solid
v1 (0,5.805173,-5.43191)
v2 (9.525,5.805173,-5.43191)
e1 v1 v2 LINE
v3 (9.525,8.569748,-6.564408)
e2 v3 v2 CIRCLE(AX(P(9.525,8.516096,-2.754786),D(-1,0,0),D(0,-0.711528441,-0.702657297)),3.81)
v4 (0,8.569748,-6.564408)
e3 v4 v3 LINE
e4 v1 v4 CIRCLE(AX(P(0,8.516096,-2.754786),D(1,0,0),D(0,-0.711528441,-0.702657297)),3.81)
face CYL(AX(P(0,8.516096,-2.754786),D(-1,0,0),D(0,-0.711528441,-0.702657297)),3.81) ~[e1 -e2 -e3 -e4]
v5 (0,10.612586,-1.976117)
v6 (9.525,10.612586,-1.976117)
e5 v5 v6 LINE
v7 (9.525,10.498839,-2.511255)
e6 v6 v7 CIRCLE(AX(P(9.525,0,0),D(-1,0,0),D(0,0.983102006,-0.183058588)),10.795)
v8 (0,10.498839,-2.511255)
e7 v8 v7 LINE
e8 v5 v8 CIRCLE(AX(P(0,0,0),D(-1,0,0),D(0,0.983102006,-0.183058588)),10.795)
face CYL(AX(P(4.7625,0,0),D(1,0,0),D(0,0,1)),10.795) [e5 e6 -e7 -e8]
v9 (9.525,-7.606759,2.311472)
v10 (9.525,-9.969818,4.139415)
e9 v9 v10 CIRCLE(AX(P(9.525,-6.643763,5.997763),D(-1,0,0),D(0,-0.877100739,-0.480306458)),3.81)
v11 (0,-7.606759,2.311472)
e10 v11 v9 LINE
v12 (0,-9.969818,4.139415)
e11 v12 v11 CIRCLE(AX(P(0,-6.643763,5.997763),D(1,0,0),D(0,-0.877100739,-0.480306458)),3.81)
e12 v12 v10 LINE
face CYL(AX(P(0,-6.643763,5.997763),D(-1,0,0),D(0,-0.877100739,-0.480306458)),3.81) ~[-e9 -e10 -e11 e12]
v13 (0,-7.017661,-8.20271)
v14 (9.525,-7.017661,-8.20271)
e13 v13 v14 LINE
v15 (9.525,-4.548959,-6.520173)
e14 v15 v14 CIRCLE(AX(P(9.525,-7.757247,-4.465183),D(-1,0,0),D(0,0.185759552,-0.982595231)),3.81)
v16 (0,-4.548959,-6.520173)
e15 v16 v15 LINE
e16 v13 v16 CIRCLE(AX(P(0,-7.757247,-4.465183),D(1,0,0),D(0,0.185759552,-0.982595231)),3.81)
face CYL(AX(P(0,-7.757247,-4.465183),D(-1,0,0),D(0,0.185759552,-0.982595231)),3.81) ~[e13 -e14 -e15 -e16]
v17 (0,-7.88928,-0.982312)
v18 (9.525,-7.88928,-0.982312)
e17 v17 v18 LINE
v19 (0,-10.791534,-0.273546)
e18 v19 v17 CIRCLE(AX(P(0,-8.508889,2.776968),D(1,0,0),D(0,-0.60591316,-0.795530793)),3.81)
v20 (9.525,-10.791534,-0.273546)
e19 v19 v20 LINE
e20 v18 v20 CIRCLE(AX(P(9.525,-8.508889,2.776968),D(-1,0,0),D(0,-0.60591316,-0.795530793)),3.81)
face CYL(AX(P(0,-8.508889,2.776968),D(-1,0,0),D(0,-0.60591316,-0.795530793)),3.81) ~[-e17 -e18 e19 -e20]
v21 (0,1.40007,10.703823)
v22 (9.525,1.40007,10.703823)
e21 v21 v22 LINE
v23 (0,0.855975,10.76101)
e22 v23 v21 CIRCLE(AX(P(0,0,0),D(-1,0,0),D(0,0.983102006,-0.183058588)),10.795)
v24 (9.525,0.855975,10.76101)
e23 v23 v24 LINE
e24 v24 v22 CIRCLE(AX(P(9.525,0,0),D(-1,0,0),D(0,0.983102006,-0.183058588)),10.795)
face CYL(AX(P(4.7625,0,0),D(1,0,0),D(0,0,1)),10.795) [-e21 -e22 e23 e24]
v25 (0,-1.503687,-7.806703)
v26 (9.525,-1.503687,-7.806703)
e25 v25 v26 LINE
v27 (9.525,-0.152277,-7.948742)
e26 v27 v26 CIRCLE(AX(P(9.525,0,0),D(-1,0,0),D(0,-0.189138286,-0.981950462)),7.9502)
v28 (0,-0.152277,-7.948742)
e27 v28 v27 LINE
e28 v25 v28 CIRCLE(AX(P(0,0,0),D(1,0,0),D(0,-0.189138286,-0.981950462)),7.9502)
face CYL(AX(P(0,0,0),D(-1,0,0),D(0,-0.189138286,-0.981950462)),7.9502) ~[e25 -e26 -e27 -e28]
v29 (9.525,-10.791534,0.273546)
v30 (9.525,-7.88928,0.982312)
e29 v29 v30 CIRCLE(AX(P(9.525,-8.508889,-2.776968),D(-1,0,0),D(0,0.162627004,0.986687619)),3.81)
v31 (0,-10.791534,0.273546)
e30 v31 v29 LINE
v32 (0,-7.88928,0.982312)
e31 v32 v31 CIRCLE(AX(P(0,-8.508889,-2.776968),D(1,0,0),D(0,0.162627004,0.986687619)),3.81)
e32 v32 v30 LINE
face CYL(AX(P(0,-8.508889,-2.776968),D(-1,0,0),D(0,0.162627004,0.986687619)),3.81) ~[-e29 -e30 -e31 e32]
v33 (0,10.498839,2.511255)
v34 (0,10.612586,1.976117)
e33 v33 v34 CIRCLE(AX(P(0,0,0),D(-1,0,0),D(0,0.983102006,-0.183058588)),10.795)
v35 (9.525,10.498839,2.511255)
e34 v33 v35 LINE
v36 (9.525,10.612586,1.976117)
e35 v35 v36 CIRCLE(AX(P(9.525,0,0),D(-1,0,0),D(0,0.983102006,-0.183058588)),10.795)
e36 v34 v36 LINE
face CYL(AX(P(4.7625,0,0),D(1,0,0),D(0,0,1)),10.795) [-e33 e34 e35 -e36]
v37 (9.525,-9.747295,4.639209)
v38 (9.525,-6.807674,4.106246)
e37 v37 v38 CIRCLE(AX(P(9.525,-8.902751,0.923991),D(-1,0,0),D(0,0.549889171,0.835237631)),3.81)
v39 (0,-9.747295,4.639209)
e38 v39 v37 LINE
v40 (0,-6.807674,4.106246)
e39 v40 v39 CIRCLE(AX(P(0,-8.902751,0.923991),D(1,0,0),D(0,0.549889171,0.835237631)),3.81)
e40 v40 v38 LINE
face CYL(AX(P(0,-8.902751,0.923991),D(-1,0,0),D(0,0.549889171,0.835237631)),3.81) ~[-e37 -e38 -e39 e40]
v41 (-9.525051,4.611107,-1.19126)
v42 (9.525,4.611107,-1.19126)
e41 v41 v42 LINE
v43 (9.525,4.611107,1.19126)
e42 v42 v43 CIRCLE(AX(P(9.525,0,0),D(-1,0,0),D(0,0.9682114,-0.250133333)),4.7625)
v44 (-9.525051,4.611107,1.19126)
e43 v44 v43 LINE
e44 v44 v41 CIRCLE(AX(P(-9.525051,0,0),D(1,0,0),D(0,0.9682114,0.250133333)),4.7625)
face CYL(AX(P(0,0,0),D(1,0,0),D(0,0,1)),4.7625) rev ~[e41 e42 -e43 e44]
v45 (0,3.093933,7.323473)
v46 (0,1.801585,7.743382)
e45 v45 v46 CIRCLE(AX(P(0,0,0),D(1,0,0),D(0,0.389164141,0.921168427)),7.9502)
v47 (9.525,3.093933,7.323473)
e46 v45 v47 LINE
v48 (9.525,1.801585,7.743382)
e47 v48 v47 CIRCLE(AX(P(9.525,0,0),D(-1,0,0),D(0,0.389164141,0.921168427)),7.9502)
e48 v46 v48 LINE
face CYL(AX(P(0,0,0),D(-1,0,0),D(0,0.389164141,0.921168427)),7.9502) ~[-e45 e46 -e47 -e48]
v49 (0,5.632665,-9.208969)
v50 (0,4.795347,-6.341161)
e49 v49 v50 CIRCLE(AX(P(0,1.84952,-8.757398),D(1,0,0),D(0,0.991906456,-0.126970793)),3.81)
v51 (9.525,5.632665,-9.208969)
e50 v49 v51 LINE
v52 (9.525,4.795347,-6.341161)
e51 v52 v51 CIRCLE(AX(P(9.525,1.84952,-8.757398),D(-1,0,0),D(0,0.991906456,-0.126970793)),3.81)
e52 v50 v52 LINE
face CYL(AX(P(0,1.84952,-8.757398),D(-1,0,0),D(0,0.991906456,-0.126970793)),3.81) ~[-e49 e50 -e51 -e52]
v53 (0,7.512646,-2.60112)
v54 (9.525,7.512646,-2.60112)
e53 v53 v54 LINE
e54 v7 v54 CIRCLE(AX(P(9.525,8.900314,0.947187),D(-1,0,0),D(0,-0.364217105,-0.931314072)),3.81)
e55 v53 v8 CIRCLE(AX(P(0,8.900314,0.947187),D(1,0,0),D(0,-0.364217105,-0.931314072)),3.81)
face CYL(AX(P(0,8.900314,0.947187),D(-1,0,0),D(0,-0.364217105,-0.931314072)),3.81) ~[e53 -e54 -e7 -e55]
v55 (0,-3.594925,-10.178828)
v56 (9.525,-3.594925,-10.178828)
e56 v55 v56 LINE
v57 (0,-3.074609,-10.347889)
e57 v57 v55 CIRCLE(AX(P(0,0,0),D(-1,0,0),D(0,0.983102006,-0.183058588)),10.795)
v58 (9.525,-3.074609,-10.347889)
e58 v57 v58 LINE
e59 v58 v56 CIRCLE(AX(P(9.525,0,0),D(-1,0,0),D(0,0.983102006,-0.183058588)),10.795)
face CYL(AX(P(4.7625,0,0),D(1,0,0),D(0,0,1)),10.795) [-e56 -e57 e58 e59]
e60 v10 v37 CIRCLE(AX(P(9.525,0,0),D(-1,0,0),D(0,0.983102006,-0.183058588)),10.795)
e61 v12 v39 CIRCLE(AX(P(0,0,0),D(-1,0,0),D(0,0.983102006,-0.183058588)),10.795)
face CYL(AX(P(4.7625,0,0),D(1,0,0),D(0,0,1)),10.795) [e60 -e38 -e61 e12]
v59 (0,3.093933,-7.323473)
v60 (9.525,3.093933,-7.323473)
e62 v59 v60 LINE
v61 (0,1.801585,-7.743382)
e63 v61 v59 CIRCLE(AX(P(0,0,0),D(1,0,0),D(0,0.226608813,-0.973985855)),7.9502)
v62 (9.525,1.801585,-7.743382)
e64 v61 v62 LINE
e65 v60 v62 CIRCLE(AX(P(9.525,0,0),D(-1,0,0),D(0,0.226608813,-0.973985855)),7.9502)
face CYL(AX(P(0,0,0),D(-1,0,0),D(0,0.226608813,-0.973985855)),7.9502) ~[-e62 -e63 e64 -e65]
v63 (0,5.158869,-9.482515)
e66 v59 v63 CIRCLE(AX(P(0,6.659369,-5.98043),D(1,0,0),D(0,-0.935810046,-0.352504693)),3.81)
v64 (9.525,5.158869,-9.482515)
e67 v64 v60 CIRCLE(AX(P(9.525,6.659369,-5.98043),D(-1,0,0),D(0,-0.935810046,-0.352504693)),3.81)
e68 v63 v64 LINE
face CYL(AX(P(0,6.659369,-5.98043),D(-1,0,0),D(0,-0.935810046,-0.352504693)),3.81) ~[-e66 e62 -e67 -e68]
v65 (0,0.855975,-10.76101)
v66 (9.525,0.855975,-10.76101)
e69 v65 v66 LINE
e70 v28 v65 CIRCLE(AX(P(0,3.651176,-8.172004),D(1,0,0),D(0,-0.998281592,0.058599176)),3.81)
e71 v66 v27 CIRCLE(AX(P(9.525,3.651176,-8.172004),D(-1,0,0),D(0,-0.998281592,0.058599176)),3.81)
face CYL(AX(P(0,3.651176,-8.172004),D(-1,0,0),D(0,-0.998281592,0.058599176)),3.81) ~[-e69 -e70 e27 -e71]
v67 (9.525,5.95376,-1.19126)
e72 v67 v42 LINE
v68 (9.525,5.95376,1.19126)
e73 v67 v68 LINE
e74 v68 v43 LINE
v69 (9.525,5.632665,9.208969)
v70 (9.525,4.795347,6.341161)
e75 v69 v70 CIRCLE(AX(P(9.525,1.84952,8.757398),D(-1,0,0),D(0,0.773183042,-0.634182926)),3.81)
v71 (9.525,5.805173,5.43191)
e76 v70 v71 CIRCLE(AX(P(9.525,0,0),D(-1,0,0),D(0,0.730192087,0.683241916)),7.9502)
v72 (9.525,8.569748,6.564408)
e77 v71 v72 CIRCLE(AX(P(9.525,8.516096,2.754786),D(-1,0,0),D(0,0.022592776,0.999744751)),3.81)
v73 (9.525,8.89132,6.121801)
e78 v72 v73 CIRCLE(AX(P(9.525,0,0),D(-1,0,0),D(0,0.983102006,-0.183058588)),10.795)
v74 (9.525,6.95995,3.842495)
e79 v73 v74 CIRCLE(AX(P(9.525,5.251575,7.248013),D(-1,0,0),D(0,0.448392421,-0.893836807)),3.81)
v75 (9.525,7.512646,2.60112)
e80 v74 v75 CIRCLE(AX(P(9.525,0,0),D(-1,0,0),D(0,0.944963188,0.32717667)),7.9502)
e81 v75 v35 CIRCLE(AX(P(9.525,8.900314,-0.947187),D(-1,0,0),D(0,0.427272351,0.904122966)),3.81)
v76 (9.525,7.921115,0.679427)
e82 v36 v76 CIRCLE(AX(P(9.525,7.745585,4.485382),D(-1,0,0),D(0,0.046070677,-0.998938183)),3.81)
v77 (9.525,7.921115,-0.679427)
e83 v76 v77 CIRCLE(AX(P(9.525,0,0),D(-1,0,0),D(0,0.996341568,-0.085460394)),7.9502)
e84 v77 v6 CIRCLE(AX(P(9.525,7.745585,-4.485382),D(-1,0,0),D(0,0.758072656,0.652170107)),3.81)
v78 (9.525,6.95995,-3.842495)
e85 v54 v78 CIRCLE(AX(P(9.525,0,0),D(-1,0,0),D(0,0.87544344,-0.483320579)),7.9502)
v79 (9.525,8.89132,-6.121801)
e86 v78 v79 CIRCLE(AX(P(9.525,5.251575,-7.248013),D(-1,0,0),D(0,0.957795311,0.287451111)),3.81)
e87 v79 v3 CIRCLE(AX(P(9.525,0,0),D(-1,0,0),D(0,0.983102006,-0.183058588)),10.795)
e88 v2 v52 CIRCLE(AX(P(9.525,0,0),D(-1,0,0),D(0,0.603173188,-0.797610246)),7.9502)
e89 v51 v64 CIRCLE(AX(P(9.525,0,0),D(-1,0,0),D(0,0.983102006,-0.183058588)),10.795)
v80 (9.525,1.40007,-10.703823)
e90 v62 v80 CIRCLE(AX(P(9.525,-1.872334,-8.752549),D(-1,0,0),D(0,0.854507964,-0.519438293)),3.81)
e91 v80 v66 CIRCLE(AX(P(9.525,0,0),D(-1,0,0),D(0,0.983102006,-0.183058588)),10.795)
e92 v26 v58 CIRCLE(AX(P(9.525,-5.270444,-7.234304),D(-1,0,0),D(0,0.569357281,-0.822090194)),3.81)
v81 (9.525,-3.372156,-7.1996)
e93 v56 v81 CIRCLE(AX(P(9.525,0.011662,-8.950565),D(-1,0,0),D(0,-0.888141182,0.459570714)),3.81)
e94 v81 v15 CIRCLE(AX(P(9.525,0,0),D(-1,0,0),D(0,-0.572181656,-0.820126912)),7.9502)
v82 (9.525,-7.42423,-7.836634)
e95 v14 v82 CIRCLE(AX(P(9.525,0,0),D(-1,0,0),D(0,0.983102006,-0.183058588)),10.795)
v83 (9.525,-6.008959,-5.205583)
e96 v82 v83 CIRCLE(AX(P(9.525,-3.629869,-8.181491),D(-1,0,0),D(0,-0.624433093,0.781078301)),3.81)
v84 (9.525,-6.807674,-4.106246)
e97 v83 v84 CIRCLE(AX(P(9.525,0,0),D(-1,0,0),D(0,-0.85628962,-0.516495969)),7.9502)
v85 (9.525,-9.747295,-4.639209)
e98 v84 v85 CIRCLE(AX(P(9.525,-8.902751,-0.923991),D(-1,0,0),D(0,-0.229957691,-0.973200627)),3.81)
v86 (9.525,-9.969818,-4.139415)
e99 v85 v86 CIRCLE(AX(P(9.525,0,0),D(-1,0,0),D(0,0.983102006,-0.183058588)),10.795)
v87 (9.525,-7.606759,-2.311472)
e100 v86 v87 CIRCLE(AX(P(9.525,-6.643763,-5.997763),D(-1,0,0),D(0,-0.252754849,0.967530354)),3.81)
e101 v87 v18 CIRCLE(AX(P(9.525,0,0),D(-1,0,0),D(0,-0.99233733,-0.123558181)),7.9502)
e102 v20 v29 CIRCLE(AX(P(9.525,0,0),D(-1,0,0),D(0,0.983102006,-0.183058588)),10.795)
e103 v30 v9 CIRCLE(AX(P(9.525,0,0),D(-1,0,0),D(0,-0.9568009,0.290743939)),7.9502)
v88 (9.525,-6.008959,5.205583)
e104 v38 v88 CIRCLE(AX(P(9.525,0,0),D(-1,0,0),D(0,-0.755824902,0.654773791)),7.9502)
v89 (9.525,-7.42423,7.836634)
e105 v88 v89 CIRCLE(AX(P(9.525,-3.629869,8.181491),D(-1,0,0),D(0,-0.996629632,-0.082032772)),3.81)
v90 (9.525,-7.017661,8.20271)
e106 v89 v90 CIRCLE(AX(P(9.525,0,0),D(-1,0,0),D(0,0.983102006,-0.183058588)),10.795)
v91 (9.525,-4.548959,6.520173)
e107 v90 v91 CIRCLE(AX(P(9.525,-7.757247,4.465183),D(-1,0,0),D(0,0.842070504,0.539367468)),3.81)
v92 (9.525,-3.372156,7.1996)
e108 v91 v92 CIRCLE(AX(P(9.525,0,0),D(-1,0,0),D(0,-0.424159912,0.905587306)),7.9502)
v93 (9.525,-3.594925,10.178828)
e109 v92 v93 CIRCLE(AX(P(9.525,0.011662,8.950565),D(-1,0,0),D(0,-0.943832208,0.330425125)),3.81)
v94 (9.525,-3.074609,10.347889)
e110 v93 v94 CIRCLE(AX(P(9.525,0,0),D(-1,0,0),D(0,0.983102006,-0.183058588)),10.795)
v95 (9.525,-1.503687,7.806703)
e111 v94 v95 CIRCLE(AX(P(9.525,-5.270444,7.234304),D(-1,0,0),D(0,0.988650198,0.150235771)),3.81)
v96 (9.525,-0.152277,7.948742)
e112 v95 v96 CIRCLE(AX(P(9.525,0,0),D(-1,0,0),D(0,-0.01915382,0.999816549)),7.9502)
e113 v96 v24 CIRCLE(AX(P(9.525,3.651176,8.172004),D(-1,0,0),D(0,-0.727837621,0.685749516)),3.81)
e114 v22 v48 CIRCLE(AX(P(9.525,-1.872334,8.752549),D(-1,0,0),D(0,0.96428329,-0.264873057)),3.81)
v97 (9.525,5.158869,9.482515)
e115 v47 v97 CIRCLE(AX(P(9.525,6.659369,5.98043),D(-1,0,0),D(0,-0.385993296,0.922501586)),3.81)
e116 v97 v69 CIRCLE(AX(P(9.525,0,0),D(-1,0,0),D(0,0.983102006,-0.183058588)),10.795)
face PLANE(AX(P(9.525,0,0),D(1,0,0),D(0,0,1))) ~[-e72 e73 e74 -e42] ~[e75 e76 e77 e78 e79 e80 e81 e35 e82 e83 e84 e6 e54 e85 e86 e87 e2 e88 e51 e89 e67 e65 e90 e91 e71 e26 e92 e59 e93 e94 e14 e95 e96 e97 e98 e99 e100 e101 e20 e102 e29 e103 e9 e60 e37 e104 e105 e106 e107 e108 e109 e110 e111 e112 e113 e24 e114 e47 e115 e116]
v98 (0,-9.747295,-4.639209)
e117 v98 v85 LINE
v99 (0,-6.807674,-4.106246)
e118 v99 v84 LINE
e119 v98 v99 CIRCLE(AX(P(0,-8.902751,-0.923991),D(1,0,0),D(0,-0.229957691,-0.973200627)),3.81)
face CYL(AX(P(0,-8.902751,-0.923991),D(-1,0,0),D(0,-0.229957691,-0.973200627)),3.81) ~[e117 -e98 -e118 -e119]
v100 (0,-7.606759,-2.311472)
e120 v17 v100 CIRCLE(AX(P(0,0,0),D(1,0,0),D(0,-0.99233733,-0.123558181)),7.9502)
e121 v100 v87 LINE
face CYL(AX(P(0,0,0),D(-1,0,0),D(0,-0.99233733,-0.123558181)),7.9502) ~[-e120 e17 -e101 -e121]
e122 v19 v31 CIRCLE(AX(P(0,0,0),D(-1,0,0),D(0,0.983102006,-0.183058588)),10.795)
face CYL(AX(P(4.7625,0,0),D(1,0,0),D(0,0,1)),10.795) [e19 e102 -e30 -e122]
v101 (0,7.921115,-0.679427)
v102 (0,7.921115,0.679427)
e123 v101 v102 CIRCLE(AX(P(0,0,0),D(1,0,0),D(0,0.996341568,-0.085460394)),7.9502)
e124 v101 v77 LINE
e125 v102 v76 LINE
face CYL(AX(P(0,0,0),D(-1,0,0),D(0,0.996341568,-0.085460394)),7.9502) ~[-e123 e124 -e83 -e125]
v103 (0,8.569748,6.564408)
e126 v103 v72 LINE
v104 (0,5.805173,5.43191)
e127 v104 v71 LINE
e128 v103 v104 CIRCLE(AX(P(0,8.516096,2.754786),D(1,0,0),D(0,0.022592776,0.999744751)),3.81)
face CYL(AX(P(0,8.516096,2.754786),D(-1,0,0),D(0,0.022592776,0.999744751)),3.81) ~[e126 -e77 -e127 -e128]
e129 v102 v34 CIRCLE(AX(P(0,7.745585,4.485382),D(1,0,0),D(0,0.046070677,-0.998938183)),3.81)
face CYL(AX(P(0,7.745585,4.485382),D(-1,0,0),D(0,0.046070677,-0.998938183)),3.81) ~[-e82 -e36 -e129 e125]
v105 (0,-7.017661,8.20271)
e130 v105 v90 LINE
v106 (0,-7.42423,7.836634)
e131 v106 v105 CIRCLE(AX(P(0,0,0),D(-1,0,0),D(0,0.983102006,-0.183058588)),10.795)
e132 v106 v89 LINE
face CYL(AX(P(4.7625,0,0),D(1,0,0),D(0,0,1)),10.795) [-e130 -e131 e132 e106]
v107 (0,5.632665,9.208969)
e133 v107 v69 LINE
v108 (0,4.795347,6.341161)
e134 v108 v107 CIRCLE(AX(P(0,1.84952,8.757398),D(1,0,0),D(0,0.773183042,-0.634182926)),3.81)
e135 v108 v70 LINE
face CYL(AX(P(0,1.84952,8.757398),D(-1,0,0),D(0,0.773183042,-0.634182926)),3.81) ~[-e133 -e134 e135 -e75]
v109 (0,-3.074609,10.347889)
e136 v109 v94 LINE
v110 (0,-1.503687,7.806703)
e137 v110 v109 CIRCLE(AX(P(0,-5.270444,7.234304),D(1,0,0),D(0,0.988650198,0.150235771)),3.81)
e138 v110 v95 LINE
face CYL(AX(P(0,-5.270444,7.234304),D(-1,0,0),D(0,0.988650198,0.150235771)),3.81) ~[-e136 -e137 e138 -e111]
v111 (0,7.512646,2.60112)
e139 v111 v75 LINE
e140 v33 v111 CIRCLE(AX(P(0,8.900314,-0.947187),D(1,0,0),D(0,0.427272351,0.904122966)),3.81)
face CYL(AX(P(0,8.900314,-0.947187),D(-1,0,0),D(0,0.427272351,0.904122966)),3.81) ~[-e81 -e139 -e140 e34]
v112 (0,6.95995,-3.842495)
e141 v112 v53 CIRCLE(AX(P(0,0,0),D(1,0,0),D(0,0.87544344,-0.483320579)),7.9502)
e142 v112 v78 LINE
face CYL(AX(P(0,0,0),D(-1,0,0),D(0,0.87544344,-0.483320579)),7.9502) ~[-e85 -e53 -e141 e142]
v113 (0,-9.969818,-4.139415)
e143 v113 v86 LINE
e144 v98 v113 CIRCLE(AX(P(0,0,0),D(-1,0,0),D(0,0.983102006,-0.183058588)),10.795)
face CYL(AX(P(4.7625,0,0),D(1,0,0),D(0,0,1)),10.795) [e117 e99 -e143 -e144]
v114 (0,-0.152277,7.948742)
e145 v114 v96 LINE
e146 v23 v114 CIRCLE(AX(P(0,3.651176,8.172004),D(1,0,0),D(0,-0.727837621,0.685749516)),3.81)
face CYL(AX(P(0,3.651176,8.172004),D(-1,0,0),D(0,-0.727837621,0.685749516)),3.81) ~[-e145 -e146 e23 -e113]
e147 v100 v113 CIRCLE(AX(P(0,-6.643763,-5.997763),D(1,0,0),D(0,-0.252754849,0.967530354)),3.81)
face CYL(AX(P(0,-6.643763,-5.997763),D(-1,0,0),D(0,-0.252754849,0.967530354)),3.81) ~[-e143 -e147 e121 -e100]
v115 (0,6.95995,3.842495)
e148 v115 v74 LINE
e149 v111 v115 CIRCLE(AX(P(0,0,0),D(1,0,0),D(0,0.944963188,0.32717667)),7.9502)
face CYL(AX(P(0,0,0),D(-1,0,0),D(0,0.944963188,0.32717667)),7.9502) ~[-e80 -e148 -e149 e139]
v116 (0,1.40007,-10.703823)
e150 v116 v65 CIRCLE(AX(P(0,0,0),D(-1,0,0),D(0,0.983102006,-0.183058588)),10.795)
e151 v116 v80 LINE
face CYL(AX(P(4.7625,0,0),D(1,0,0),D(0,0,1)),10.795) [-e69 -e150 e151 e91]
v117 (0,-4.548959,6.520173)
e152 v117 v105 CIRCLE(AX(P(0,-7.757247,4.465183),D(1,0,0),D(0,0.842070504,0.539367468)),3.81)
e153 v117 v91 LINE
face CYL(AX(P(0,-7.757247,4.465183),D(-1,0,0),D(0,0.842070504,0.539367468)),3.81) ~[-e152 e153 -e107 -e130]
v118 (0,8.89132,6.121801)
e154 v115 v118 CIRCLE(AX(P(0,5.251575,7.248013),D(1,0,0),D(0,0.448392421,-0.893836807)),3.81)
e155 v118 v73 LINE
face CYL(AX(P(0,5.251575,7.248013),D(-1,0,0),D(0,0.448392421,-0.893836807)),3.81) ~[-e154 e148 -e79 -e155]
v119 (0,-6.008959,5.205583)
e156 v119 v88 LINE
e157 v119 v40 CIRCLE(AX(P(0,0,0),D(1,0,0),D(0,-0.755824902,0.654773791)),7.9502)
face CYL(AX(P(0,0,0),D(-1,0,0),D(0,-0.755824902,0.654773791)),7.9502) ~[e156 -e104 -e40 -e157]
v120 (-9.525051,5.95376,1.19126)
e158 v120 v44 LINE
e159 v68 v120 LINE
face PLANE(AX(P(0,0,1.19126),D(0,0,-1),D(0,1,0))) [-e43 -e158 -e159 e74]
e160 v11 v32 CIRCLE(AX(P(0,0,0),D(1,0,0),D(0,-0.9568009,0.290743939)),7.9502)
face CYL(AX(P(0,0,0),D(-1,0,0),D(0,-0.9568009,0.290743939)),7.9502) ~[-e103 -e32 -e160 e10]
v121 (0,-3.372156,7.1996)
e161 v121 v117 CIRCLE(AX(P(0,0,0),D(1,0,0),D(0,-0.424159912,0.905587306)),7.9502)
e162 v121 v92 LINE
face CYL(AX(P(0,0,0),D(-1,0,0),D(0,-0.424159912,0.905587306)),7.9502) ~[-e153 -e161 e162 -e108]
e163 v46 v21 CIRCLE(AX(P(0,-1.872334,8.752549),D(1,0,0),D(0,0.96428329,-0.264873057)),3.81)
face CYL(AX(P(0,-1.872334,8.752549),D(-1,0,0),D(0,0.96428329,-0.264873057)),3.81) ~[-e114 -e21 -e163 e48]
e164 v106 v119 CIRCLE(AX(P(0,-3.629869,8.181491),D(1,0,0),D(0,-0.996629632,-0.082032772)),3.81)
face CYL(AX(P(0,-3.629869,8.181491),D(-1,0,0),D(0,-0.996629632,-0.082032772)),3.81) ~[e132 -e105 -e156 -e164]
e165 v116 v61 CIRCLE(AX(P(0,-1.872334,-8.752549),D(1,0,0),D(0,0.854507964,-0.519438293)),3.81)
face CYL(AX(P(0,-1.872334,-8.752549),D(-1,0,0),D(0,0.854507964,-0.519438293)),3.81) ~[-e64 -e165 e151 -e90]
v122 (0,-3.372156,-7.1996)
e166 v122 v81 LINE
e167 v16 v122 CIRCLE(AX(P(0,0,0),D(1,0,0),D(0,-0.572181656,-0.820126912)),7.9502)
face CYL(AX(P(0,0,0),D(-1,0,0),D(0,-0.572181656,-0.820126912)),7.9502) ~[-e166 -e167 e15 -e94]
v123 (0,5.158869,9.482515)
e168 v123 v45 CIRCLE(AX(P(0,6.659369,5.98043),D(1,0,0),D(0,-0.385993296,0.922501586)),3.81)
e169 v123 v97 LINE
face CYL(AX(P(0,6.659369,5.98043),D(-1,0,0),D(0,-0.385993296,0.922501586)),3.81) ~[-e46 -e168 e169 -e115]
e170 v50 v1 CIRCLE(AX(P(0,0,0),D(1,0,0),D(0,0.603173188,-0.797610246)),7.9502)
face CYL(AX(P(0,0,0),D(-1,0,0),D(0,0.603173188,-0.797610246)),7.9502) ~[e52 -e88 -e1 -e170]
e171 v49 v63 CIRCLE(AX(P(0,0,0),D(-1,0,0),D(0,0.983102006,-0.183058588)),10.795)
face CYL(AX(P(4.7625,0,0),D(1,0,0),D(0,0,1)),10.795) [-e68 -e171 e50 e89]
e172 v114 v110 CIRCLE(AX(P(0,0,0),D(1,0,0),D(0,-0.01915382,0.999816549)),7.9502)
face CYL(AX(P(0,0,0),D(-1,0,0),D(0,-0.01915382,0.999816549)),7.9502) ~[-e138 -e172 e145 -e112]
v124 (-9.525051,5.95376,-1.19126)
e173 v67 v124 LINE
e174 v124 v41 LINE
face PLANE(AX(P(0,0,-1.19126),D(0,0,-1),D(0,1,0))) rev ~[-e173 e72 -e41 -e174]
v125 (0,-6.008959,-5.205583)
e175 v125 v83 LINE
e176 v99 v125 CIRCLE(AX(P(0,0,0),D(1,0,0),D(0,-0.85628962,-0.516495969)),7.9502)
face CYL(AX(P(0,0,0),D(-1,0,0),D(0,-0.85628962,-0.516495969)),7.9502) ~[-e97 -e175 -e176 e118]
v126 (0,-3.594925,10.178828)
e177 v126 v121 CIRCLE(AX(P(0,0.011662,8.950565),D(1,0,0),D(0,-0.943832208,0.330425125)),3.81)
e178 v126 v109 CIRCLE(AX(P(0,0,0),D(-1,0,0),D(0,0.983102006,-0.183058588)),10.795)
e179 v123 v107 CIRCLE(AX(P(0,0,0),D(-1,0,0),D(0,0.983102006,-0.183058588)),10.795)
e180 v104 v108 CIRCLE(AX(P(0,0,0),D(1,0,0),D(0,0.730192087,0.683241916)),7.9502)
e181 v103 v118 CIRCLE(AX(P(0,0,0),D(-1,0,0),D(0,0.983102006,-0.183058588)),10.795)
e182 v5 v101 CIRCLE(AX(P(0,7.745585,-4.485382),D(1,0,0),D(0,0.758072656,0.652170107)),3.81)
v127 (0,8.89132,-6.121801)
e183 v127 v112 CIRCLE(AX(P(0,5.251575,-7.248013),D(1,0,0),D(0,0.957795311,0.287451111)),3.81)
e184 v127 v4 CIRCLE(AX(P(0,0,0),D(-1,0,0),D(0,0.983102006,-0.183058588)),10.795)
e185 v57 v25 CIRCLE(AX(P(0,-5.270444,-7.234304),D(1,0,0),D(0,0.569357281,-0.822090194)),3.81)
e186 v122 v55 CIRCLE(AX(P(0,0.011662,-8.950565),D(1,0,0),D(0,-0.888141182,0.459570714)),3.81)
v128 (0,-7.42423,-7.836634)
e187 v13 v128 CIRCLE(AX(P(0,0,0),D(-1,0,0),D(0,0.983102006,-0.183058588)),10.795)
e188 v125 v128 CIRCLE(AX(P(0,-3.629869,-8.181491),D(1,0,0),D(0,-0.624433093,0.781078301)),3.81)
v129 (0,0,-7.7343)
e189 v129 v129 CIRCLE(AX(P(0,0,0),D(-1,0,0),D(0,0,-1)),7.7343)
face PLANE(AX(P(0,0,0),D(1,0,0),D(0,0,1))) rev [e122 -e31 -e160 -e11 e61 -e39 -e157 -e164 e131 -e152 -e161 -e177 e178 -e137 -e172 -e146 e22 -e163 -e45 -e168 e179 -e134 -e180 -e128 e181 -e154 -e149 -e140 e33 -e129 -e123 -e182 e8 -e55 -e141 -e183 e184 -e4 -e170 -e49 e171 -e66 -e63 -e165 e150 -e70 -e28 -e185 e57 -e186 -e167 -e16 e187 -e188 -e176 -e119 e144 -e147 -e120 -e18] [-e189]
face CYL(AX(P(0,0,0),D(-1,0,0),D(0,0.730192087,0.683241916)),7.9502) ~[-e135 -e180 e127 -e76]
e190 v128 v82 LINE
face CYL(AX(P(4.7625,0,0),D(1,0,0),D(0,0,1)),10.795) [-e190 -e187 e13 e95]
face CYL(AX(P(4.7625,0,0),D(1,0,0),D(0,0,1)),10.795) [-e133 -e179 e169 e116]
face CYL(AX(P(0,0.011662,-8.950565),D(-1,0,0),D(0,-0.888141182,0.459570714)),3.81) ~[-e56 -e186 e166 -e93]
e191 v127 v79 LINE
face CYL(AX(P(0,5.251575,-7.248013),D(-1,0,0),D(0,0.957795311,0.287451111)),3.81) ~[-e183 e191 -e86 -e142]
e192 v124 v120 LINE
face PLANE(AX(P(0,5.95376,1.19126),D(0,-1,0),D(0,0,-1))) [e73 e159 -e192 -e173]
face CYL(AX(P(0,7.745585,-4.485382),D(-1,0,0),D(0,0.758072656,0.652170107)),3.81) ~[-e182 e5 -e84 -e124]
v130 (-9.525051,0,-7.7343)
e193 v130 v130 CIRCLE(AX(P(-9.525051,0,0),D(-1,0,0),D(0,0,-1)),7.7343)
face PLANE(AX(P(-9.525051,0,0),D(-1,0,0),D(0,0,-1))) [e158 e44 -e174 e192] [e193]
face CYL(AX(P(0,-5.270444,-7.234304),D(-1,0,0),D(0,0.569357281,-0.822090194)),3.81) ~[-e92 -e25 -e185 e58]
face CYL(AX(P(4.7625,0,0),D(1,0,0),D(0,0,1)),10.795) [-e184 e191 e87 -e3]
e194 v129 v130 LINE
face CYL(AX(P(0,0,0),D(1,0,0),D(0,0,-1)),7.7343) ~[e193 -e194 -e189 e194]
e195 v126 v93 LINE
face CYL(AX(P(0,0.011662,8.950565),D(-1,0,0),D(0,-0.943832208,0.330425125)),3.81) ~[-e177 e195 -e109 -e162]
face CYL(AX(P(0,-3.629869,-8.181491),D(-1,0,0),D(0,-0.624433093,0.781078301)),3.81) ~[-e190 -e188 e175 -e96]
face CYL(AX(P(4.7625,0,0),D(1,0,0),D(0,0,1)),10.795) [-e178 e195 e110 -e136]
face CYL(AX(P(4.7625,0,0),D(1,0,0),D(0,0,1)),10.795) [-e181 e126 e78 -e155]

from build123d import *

# Parameters (mm, degrees)
BASPROSKE_W      = 9.525
BASPROSKE_H      = 10.795
TOOTHCUT_DEPTH   = 18.99415669
TEETHCUTS_COUNT  = 15
TEETHCUTS_ANGLE  = 336
HUBNEAONESKE_R   = 7.7343
HUBNEARONE_DEPTH = 9.5250508
BORSKE_R         = 4.7625
BORE_DEPTH       = 19.0500508
KEYSKE_W         = 2.38252
KEYSKE_H         = 5.95376
KEYWAY_DEPTH     = 19.0500508


with BuildPart() as part:
    # BasProSke → Base-Revolve (revolve)
    with BuildSketch(Plane(origin=(0, 0, 0), x_dir=(1, 0, 0), z_dir=(0, 1, 0)), mode=Mode.PRIVATE) as base_revolve_sk:
        with Locations((4.7625, 5.3975)):
            Rectangle(BASPROSKE_W, BASPROSKE_H)
    revolve(base_revolve_sk.sketch.rotate(Axis((-10, 0, 0), (1, 0, 0)), 180), axis=Axis((-10, 0, 0), (1, 0, 0)))

    # TooCutSke → ToothCut (cut, through all)
    with BuildSketch(Plane(origin=(0, 0, 0), x_dir=(0, 0, -1), z_dir=(1, 0, 0))):
        with BuildLine():
            ThreePointArc((0.679427218, 7.921114738), (0, 7.9502), (-0.679427218, 7.921114738))
            ThreePointArc((-0.679427218, 7.921114738), (-1.060032028, 9.413841931), (-2.000613584, 10.633842271))
            ThreePointArc((-2.000613584, 10.633842271), (0, 10.8204), (2.000613584, 10.633842271))
            ThreePointArc((2.000613584, 10.633842271), (1.060032028, 9.413841931), (0.679427218, 7.921114738))
        make_face()
    toothcut = extrude(amount=TOOTHCUT_DEPTH, mode=Mode.SUBTRACT)

    # TeethCuts: ToothCut ×15 about axis
    teethcuts_axis = Axis((-10, 0, 0), (1, 0, 0))
    for i in range(1, TEETHCUTS_COUNT):
        add(toothcut.rotate(teethcuts_axis, i * TEETHCUTS_ANGLE / (TEETHCUTS_COUNT - 1)), mode=Mode.SUBTRACT)

    # HubNeaOneSke → HubNearOne (add)
    with BuildSketch(Plane.ZY):
        with Locations(Location((0, 0, 0), (0, 0, 180))):
            Circle(HUBNEAONESKE_R)
    extrude(amount=HUBNEARONE_DEPTH)

    # BorSke → Bore (cut, symmetric)
    with BuildSketch(Plane(origin=(0, 0, 0), x_dir=(0, 0, -1), z_dir=(1, 0, 0))):
        with Locations(Location((0, 0, 0), (0, 0, 180))):
            Circle(BORSKE_R)
    extrude(amount=BORE_DEPTH, both=True, mode=Mode.SUBTRACT)

    # KeySke → Keyway (cut, symmetric)
    with BuildSketch(Plane(origin=(0, 0, 0), x_dir=(0, 0, -1), z_dir=(1, 0, 0))):
        with Locations((0, 2.97688)):
            Rectangle(KEYSKE_W, KEYSKE_H)
    extrude(amount=KEYWAY_DEPTH, both=True, mode=Mode.SUBTRACT)


solid = part.part
